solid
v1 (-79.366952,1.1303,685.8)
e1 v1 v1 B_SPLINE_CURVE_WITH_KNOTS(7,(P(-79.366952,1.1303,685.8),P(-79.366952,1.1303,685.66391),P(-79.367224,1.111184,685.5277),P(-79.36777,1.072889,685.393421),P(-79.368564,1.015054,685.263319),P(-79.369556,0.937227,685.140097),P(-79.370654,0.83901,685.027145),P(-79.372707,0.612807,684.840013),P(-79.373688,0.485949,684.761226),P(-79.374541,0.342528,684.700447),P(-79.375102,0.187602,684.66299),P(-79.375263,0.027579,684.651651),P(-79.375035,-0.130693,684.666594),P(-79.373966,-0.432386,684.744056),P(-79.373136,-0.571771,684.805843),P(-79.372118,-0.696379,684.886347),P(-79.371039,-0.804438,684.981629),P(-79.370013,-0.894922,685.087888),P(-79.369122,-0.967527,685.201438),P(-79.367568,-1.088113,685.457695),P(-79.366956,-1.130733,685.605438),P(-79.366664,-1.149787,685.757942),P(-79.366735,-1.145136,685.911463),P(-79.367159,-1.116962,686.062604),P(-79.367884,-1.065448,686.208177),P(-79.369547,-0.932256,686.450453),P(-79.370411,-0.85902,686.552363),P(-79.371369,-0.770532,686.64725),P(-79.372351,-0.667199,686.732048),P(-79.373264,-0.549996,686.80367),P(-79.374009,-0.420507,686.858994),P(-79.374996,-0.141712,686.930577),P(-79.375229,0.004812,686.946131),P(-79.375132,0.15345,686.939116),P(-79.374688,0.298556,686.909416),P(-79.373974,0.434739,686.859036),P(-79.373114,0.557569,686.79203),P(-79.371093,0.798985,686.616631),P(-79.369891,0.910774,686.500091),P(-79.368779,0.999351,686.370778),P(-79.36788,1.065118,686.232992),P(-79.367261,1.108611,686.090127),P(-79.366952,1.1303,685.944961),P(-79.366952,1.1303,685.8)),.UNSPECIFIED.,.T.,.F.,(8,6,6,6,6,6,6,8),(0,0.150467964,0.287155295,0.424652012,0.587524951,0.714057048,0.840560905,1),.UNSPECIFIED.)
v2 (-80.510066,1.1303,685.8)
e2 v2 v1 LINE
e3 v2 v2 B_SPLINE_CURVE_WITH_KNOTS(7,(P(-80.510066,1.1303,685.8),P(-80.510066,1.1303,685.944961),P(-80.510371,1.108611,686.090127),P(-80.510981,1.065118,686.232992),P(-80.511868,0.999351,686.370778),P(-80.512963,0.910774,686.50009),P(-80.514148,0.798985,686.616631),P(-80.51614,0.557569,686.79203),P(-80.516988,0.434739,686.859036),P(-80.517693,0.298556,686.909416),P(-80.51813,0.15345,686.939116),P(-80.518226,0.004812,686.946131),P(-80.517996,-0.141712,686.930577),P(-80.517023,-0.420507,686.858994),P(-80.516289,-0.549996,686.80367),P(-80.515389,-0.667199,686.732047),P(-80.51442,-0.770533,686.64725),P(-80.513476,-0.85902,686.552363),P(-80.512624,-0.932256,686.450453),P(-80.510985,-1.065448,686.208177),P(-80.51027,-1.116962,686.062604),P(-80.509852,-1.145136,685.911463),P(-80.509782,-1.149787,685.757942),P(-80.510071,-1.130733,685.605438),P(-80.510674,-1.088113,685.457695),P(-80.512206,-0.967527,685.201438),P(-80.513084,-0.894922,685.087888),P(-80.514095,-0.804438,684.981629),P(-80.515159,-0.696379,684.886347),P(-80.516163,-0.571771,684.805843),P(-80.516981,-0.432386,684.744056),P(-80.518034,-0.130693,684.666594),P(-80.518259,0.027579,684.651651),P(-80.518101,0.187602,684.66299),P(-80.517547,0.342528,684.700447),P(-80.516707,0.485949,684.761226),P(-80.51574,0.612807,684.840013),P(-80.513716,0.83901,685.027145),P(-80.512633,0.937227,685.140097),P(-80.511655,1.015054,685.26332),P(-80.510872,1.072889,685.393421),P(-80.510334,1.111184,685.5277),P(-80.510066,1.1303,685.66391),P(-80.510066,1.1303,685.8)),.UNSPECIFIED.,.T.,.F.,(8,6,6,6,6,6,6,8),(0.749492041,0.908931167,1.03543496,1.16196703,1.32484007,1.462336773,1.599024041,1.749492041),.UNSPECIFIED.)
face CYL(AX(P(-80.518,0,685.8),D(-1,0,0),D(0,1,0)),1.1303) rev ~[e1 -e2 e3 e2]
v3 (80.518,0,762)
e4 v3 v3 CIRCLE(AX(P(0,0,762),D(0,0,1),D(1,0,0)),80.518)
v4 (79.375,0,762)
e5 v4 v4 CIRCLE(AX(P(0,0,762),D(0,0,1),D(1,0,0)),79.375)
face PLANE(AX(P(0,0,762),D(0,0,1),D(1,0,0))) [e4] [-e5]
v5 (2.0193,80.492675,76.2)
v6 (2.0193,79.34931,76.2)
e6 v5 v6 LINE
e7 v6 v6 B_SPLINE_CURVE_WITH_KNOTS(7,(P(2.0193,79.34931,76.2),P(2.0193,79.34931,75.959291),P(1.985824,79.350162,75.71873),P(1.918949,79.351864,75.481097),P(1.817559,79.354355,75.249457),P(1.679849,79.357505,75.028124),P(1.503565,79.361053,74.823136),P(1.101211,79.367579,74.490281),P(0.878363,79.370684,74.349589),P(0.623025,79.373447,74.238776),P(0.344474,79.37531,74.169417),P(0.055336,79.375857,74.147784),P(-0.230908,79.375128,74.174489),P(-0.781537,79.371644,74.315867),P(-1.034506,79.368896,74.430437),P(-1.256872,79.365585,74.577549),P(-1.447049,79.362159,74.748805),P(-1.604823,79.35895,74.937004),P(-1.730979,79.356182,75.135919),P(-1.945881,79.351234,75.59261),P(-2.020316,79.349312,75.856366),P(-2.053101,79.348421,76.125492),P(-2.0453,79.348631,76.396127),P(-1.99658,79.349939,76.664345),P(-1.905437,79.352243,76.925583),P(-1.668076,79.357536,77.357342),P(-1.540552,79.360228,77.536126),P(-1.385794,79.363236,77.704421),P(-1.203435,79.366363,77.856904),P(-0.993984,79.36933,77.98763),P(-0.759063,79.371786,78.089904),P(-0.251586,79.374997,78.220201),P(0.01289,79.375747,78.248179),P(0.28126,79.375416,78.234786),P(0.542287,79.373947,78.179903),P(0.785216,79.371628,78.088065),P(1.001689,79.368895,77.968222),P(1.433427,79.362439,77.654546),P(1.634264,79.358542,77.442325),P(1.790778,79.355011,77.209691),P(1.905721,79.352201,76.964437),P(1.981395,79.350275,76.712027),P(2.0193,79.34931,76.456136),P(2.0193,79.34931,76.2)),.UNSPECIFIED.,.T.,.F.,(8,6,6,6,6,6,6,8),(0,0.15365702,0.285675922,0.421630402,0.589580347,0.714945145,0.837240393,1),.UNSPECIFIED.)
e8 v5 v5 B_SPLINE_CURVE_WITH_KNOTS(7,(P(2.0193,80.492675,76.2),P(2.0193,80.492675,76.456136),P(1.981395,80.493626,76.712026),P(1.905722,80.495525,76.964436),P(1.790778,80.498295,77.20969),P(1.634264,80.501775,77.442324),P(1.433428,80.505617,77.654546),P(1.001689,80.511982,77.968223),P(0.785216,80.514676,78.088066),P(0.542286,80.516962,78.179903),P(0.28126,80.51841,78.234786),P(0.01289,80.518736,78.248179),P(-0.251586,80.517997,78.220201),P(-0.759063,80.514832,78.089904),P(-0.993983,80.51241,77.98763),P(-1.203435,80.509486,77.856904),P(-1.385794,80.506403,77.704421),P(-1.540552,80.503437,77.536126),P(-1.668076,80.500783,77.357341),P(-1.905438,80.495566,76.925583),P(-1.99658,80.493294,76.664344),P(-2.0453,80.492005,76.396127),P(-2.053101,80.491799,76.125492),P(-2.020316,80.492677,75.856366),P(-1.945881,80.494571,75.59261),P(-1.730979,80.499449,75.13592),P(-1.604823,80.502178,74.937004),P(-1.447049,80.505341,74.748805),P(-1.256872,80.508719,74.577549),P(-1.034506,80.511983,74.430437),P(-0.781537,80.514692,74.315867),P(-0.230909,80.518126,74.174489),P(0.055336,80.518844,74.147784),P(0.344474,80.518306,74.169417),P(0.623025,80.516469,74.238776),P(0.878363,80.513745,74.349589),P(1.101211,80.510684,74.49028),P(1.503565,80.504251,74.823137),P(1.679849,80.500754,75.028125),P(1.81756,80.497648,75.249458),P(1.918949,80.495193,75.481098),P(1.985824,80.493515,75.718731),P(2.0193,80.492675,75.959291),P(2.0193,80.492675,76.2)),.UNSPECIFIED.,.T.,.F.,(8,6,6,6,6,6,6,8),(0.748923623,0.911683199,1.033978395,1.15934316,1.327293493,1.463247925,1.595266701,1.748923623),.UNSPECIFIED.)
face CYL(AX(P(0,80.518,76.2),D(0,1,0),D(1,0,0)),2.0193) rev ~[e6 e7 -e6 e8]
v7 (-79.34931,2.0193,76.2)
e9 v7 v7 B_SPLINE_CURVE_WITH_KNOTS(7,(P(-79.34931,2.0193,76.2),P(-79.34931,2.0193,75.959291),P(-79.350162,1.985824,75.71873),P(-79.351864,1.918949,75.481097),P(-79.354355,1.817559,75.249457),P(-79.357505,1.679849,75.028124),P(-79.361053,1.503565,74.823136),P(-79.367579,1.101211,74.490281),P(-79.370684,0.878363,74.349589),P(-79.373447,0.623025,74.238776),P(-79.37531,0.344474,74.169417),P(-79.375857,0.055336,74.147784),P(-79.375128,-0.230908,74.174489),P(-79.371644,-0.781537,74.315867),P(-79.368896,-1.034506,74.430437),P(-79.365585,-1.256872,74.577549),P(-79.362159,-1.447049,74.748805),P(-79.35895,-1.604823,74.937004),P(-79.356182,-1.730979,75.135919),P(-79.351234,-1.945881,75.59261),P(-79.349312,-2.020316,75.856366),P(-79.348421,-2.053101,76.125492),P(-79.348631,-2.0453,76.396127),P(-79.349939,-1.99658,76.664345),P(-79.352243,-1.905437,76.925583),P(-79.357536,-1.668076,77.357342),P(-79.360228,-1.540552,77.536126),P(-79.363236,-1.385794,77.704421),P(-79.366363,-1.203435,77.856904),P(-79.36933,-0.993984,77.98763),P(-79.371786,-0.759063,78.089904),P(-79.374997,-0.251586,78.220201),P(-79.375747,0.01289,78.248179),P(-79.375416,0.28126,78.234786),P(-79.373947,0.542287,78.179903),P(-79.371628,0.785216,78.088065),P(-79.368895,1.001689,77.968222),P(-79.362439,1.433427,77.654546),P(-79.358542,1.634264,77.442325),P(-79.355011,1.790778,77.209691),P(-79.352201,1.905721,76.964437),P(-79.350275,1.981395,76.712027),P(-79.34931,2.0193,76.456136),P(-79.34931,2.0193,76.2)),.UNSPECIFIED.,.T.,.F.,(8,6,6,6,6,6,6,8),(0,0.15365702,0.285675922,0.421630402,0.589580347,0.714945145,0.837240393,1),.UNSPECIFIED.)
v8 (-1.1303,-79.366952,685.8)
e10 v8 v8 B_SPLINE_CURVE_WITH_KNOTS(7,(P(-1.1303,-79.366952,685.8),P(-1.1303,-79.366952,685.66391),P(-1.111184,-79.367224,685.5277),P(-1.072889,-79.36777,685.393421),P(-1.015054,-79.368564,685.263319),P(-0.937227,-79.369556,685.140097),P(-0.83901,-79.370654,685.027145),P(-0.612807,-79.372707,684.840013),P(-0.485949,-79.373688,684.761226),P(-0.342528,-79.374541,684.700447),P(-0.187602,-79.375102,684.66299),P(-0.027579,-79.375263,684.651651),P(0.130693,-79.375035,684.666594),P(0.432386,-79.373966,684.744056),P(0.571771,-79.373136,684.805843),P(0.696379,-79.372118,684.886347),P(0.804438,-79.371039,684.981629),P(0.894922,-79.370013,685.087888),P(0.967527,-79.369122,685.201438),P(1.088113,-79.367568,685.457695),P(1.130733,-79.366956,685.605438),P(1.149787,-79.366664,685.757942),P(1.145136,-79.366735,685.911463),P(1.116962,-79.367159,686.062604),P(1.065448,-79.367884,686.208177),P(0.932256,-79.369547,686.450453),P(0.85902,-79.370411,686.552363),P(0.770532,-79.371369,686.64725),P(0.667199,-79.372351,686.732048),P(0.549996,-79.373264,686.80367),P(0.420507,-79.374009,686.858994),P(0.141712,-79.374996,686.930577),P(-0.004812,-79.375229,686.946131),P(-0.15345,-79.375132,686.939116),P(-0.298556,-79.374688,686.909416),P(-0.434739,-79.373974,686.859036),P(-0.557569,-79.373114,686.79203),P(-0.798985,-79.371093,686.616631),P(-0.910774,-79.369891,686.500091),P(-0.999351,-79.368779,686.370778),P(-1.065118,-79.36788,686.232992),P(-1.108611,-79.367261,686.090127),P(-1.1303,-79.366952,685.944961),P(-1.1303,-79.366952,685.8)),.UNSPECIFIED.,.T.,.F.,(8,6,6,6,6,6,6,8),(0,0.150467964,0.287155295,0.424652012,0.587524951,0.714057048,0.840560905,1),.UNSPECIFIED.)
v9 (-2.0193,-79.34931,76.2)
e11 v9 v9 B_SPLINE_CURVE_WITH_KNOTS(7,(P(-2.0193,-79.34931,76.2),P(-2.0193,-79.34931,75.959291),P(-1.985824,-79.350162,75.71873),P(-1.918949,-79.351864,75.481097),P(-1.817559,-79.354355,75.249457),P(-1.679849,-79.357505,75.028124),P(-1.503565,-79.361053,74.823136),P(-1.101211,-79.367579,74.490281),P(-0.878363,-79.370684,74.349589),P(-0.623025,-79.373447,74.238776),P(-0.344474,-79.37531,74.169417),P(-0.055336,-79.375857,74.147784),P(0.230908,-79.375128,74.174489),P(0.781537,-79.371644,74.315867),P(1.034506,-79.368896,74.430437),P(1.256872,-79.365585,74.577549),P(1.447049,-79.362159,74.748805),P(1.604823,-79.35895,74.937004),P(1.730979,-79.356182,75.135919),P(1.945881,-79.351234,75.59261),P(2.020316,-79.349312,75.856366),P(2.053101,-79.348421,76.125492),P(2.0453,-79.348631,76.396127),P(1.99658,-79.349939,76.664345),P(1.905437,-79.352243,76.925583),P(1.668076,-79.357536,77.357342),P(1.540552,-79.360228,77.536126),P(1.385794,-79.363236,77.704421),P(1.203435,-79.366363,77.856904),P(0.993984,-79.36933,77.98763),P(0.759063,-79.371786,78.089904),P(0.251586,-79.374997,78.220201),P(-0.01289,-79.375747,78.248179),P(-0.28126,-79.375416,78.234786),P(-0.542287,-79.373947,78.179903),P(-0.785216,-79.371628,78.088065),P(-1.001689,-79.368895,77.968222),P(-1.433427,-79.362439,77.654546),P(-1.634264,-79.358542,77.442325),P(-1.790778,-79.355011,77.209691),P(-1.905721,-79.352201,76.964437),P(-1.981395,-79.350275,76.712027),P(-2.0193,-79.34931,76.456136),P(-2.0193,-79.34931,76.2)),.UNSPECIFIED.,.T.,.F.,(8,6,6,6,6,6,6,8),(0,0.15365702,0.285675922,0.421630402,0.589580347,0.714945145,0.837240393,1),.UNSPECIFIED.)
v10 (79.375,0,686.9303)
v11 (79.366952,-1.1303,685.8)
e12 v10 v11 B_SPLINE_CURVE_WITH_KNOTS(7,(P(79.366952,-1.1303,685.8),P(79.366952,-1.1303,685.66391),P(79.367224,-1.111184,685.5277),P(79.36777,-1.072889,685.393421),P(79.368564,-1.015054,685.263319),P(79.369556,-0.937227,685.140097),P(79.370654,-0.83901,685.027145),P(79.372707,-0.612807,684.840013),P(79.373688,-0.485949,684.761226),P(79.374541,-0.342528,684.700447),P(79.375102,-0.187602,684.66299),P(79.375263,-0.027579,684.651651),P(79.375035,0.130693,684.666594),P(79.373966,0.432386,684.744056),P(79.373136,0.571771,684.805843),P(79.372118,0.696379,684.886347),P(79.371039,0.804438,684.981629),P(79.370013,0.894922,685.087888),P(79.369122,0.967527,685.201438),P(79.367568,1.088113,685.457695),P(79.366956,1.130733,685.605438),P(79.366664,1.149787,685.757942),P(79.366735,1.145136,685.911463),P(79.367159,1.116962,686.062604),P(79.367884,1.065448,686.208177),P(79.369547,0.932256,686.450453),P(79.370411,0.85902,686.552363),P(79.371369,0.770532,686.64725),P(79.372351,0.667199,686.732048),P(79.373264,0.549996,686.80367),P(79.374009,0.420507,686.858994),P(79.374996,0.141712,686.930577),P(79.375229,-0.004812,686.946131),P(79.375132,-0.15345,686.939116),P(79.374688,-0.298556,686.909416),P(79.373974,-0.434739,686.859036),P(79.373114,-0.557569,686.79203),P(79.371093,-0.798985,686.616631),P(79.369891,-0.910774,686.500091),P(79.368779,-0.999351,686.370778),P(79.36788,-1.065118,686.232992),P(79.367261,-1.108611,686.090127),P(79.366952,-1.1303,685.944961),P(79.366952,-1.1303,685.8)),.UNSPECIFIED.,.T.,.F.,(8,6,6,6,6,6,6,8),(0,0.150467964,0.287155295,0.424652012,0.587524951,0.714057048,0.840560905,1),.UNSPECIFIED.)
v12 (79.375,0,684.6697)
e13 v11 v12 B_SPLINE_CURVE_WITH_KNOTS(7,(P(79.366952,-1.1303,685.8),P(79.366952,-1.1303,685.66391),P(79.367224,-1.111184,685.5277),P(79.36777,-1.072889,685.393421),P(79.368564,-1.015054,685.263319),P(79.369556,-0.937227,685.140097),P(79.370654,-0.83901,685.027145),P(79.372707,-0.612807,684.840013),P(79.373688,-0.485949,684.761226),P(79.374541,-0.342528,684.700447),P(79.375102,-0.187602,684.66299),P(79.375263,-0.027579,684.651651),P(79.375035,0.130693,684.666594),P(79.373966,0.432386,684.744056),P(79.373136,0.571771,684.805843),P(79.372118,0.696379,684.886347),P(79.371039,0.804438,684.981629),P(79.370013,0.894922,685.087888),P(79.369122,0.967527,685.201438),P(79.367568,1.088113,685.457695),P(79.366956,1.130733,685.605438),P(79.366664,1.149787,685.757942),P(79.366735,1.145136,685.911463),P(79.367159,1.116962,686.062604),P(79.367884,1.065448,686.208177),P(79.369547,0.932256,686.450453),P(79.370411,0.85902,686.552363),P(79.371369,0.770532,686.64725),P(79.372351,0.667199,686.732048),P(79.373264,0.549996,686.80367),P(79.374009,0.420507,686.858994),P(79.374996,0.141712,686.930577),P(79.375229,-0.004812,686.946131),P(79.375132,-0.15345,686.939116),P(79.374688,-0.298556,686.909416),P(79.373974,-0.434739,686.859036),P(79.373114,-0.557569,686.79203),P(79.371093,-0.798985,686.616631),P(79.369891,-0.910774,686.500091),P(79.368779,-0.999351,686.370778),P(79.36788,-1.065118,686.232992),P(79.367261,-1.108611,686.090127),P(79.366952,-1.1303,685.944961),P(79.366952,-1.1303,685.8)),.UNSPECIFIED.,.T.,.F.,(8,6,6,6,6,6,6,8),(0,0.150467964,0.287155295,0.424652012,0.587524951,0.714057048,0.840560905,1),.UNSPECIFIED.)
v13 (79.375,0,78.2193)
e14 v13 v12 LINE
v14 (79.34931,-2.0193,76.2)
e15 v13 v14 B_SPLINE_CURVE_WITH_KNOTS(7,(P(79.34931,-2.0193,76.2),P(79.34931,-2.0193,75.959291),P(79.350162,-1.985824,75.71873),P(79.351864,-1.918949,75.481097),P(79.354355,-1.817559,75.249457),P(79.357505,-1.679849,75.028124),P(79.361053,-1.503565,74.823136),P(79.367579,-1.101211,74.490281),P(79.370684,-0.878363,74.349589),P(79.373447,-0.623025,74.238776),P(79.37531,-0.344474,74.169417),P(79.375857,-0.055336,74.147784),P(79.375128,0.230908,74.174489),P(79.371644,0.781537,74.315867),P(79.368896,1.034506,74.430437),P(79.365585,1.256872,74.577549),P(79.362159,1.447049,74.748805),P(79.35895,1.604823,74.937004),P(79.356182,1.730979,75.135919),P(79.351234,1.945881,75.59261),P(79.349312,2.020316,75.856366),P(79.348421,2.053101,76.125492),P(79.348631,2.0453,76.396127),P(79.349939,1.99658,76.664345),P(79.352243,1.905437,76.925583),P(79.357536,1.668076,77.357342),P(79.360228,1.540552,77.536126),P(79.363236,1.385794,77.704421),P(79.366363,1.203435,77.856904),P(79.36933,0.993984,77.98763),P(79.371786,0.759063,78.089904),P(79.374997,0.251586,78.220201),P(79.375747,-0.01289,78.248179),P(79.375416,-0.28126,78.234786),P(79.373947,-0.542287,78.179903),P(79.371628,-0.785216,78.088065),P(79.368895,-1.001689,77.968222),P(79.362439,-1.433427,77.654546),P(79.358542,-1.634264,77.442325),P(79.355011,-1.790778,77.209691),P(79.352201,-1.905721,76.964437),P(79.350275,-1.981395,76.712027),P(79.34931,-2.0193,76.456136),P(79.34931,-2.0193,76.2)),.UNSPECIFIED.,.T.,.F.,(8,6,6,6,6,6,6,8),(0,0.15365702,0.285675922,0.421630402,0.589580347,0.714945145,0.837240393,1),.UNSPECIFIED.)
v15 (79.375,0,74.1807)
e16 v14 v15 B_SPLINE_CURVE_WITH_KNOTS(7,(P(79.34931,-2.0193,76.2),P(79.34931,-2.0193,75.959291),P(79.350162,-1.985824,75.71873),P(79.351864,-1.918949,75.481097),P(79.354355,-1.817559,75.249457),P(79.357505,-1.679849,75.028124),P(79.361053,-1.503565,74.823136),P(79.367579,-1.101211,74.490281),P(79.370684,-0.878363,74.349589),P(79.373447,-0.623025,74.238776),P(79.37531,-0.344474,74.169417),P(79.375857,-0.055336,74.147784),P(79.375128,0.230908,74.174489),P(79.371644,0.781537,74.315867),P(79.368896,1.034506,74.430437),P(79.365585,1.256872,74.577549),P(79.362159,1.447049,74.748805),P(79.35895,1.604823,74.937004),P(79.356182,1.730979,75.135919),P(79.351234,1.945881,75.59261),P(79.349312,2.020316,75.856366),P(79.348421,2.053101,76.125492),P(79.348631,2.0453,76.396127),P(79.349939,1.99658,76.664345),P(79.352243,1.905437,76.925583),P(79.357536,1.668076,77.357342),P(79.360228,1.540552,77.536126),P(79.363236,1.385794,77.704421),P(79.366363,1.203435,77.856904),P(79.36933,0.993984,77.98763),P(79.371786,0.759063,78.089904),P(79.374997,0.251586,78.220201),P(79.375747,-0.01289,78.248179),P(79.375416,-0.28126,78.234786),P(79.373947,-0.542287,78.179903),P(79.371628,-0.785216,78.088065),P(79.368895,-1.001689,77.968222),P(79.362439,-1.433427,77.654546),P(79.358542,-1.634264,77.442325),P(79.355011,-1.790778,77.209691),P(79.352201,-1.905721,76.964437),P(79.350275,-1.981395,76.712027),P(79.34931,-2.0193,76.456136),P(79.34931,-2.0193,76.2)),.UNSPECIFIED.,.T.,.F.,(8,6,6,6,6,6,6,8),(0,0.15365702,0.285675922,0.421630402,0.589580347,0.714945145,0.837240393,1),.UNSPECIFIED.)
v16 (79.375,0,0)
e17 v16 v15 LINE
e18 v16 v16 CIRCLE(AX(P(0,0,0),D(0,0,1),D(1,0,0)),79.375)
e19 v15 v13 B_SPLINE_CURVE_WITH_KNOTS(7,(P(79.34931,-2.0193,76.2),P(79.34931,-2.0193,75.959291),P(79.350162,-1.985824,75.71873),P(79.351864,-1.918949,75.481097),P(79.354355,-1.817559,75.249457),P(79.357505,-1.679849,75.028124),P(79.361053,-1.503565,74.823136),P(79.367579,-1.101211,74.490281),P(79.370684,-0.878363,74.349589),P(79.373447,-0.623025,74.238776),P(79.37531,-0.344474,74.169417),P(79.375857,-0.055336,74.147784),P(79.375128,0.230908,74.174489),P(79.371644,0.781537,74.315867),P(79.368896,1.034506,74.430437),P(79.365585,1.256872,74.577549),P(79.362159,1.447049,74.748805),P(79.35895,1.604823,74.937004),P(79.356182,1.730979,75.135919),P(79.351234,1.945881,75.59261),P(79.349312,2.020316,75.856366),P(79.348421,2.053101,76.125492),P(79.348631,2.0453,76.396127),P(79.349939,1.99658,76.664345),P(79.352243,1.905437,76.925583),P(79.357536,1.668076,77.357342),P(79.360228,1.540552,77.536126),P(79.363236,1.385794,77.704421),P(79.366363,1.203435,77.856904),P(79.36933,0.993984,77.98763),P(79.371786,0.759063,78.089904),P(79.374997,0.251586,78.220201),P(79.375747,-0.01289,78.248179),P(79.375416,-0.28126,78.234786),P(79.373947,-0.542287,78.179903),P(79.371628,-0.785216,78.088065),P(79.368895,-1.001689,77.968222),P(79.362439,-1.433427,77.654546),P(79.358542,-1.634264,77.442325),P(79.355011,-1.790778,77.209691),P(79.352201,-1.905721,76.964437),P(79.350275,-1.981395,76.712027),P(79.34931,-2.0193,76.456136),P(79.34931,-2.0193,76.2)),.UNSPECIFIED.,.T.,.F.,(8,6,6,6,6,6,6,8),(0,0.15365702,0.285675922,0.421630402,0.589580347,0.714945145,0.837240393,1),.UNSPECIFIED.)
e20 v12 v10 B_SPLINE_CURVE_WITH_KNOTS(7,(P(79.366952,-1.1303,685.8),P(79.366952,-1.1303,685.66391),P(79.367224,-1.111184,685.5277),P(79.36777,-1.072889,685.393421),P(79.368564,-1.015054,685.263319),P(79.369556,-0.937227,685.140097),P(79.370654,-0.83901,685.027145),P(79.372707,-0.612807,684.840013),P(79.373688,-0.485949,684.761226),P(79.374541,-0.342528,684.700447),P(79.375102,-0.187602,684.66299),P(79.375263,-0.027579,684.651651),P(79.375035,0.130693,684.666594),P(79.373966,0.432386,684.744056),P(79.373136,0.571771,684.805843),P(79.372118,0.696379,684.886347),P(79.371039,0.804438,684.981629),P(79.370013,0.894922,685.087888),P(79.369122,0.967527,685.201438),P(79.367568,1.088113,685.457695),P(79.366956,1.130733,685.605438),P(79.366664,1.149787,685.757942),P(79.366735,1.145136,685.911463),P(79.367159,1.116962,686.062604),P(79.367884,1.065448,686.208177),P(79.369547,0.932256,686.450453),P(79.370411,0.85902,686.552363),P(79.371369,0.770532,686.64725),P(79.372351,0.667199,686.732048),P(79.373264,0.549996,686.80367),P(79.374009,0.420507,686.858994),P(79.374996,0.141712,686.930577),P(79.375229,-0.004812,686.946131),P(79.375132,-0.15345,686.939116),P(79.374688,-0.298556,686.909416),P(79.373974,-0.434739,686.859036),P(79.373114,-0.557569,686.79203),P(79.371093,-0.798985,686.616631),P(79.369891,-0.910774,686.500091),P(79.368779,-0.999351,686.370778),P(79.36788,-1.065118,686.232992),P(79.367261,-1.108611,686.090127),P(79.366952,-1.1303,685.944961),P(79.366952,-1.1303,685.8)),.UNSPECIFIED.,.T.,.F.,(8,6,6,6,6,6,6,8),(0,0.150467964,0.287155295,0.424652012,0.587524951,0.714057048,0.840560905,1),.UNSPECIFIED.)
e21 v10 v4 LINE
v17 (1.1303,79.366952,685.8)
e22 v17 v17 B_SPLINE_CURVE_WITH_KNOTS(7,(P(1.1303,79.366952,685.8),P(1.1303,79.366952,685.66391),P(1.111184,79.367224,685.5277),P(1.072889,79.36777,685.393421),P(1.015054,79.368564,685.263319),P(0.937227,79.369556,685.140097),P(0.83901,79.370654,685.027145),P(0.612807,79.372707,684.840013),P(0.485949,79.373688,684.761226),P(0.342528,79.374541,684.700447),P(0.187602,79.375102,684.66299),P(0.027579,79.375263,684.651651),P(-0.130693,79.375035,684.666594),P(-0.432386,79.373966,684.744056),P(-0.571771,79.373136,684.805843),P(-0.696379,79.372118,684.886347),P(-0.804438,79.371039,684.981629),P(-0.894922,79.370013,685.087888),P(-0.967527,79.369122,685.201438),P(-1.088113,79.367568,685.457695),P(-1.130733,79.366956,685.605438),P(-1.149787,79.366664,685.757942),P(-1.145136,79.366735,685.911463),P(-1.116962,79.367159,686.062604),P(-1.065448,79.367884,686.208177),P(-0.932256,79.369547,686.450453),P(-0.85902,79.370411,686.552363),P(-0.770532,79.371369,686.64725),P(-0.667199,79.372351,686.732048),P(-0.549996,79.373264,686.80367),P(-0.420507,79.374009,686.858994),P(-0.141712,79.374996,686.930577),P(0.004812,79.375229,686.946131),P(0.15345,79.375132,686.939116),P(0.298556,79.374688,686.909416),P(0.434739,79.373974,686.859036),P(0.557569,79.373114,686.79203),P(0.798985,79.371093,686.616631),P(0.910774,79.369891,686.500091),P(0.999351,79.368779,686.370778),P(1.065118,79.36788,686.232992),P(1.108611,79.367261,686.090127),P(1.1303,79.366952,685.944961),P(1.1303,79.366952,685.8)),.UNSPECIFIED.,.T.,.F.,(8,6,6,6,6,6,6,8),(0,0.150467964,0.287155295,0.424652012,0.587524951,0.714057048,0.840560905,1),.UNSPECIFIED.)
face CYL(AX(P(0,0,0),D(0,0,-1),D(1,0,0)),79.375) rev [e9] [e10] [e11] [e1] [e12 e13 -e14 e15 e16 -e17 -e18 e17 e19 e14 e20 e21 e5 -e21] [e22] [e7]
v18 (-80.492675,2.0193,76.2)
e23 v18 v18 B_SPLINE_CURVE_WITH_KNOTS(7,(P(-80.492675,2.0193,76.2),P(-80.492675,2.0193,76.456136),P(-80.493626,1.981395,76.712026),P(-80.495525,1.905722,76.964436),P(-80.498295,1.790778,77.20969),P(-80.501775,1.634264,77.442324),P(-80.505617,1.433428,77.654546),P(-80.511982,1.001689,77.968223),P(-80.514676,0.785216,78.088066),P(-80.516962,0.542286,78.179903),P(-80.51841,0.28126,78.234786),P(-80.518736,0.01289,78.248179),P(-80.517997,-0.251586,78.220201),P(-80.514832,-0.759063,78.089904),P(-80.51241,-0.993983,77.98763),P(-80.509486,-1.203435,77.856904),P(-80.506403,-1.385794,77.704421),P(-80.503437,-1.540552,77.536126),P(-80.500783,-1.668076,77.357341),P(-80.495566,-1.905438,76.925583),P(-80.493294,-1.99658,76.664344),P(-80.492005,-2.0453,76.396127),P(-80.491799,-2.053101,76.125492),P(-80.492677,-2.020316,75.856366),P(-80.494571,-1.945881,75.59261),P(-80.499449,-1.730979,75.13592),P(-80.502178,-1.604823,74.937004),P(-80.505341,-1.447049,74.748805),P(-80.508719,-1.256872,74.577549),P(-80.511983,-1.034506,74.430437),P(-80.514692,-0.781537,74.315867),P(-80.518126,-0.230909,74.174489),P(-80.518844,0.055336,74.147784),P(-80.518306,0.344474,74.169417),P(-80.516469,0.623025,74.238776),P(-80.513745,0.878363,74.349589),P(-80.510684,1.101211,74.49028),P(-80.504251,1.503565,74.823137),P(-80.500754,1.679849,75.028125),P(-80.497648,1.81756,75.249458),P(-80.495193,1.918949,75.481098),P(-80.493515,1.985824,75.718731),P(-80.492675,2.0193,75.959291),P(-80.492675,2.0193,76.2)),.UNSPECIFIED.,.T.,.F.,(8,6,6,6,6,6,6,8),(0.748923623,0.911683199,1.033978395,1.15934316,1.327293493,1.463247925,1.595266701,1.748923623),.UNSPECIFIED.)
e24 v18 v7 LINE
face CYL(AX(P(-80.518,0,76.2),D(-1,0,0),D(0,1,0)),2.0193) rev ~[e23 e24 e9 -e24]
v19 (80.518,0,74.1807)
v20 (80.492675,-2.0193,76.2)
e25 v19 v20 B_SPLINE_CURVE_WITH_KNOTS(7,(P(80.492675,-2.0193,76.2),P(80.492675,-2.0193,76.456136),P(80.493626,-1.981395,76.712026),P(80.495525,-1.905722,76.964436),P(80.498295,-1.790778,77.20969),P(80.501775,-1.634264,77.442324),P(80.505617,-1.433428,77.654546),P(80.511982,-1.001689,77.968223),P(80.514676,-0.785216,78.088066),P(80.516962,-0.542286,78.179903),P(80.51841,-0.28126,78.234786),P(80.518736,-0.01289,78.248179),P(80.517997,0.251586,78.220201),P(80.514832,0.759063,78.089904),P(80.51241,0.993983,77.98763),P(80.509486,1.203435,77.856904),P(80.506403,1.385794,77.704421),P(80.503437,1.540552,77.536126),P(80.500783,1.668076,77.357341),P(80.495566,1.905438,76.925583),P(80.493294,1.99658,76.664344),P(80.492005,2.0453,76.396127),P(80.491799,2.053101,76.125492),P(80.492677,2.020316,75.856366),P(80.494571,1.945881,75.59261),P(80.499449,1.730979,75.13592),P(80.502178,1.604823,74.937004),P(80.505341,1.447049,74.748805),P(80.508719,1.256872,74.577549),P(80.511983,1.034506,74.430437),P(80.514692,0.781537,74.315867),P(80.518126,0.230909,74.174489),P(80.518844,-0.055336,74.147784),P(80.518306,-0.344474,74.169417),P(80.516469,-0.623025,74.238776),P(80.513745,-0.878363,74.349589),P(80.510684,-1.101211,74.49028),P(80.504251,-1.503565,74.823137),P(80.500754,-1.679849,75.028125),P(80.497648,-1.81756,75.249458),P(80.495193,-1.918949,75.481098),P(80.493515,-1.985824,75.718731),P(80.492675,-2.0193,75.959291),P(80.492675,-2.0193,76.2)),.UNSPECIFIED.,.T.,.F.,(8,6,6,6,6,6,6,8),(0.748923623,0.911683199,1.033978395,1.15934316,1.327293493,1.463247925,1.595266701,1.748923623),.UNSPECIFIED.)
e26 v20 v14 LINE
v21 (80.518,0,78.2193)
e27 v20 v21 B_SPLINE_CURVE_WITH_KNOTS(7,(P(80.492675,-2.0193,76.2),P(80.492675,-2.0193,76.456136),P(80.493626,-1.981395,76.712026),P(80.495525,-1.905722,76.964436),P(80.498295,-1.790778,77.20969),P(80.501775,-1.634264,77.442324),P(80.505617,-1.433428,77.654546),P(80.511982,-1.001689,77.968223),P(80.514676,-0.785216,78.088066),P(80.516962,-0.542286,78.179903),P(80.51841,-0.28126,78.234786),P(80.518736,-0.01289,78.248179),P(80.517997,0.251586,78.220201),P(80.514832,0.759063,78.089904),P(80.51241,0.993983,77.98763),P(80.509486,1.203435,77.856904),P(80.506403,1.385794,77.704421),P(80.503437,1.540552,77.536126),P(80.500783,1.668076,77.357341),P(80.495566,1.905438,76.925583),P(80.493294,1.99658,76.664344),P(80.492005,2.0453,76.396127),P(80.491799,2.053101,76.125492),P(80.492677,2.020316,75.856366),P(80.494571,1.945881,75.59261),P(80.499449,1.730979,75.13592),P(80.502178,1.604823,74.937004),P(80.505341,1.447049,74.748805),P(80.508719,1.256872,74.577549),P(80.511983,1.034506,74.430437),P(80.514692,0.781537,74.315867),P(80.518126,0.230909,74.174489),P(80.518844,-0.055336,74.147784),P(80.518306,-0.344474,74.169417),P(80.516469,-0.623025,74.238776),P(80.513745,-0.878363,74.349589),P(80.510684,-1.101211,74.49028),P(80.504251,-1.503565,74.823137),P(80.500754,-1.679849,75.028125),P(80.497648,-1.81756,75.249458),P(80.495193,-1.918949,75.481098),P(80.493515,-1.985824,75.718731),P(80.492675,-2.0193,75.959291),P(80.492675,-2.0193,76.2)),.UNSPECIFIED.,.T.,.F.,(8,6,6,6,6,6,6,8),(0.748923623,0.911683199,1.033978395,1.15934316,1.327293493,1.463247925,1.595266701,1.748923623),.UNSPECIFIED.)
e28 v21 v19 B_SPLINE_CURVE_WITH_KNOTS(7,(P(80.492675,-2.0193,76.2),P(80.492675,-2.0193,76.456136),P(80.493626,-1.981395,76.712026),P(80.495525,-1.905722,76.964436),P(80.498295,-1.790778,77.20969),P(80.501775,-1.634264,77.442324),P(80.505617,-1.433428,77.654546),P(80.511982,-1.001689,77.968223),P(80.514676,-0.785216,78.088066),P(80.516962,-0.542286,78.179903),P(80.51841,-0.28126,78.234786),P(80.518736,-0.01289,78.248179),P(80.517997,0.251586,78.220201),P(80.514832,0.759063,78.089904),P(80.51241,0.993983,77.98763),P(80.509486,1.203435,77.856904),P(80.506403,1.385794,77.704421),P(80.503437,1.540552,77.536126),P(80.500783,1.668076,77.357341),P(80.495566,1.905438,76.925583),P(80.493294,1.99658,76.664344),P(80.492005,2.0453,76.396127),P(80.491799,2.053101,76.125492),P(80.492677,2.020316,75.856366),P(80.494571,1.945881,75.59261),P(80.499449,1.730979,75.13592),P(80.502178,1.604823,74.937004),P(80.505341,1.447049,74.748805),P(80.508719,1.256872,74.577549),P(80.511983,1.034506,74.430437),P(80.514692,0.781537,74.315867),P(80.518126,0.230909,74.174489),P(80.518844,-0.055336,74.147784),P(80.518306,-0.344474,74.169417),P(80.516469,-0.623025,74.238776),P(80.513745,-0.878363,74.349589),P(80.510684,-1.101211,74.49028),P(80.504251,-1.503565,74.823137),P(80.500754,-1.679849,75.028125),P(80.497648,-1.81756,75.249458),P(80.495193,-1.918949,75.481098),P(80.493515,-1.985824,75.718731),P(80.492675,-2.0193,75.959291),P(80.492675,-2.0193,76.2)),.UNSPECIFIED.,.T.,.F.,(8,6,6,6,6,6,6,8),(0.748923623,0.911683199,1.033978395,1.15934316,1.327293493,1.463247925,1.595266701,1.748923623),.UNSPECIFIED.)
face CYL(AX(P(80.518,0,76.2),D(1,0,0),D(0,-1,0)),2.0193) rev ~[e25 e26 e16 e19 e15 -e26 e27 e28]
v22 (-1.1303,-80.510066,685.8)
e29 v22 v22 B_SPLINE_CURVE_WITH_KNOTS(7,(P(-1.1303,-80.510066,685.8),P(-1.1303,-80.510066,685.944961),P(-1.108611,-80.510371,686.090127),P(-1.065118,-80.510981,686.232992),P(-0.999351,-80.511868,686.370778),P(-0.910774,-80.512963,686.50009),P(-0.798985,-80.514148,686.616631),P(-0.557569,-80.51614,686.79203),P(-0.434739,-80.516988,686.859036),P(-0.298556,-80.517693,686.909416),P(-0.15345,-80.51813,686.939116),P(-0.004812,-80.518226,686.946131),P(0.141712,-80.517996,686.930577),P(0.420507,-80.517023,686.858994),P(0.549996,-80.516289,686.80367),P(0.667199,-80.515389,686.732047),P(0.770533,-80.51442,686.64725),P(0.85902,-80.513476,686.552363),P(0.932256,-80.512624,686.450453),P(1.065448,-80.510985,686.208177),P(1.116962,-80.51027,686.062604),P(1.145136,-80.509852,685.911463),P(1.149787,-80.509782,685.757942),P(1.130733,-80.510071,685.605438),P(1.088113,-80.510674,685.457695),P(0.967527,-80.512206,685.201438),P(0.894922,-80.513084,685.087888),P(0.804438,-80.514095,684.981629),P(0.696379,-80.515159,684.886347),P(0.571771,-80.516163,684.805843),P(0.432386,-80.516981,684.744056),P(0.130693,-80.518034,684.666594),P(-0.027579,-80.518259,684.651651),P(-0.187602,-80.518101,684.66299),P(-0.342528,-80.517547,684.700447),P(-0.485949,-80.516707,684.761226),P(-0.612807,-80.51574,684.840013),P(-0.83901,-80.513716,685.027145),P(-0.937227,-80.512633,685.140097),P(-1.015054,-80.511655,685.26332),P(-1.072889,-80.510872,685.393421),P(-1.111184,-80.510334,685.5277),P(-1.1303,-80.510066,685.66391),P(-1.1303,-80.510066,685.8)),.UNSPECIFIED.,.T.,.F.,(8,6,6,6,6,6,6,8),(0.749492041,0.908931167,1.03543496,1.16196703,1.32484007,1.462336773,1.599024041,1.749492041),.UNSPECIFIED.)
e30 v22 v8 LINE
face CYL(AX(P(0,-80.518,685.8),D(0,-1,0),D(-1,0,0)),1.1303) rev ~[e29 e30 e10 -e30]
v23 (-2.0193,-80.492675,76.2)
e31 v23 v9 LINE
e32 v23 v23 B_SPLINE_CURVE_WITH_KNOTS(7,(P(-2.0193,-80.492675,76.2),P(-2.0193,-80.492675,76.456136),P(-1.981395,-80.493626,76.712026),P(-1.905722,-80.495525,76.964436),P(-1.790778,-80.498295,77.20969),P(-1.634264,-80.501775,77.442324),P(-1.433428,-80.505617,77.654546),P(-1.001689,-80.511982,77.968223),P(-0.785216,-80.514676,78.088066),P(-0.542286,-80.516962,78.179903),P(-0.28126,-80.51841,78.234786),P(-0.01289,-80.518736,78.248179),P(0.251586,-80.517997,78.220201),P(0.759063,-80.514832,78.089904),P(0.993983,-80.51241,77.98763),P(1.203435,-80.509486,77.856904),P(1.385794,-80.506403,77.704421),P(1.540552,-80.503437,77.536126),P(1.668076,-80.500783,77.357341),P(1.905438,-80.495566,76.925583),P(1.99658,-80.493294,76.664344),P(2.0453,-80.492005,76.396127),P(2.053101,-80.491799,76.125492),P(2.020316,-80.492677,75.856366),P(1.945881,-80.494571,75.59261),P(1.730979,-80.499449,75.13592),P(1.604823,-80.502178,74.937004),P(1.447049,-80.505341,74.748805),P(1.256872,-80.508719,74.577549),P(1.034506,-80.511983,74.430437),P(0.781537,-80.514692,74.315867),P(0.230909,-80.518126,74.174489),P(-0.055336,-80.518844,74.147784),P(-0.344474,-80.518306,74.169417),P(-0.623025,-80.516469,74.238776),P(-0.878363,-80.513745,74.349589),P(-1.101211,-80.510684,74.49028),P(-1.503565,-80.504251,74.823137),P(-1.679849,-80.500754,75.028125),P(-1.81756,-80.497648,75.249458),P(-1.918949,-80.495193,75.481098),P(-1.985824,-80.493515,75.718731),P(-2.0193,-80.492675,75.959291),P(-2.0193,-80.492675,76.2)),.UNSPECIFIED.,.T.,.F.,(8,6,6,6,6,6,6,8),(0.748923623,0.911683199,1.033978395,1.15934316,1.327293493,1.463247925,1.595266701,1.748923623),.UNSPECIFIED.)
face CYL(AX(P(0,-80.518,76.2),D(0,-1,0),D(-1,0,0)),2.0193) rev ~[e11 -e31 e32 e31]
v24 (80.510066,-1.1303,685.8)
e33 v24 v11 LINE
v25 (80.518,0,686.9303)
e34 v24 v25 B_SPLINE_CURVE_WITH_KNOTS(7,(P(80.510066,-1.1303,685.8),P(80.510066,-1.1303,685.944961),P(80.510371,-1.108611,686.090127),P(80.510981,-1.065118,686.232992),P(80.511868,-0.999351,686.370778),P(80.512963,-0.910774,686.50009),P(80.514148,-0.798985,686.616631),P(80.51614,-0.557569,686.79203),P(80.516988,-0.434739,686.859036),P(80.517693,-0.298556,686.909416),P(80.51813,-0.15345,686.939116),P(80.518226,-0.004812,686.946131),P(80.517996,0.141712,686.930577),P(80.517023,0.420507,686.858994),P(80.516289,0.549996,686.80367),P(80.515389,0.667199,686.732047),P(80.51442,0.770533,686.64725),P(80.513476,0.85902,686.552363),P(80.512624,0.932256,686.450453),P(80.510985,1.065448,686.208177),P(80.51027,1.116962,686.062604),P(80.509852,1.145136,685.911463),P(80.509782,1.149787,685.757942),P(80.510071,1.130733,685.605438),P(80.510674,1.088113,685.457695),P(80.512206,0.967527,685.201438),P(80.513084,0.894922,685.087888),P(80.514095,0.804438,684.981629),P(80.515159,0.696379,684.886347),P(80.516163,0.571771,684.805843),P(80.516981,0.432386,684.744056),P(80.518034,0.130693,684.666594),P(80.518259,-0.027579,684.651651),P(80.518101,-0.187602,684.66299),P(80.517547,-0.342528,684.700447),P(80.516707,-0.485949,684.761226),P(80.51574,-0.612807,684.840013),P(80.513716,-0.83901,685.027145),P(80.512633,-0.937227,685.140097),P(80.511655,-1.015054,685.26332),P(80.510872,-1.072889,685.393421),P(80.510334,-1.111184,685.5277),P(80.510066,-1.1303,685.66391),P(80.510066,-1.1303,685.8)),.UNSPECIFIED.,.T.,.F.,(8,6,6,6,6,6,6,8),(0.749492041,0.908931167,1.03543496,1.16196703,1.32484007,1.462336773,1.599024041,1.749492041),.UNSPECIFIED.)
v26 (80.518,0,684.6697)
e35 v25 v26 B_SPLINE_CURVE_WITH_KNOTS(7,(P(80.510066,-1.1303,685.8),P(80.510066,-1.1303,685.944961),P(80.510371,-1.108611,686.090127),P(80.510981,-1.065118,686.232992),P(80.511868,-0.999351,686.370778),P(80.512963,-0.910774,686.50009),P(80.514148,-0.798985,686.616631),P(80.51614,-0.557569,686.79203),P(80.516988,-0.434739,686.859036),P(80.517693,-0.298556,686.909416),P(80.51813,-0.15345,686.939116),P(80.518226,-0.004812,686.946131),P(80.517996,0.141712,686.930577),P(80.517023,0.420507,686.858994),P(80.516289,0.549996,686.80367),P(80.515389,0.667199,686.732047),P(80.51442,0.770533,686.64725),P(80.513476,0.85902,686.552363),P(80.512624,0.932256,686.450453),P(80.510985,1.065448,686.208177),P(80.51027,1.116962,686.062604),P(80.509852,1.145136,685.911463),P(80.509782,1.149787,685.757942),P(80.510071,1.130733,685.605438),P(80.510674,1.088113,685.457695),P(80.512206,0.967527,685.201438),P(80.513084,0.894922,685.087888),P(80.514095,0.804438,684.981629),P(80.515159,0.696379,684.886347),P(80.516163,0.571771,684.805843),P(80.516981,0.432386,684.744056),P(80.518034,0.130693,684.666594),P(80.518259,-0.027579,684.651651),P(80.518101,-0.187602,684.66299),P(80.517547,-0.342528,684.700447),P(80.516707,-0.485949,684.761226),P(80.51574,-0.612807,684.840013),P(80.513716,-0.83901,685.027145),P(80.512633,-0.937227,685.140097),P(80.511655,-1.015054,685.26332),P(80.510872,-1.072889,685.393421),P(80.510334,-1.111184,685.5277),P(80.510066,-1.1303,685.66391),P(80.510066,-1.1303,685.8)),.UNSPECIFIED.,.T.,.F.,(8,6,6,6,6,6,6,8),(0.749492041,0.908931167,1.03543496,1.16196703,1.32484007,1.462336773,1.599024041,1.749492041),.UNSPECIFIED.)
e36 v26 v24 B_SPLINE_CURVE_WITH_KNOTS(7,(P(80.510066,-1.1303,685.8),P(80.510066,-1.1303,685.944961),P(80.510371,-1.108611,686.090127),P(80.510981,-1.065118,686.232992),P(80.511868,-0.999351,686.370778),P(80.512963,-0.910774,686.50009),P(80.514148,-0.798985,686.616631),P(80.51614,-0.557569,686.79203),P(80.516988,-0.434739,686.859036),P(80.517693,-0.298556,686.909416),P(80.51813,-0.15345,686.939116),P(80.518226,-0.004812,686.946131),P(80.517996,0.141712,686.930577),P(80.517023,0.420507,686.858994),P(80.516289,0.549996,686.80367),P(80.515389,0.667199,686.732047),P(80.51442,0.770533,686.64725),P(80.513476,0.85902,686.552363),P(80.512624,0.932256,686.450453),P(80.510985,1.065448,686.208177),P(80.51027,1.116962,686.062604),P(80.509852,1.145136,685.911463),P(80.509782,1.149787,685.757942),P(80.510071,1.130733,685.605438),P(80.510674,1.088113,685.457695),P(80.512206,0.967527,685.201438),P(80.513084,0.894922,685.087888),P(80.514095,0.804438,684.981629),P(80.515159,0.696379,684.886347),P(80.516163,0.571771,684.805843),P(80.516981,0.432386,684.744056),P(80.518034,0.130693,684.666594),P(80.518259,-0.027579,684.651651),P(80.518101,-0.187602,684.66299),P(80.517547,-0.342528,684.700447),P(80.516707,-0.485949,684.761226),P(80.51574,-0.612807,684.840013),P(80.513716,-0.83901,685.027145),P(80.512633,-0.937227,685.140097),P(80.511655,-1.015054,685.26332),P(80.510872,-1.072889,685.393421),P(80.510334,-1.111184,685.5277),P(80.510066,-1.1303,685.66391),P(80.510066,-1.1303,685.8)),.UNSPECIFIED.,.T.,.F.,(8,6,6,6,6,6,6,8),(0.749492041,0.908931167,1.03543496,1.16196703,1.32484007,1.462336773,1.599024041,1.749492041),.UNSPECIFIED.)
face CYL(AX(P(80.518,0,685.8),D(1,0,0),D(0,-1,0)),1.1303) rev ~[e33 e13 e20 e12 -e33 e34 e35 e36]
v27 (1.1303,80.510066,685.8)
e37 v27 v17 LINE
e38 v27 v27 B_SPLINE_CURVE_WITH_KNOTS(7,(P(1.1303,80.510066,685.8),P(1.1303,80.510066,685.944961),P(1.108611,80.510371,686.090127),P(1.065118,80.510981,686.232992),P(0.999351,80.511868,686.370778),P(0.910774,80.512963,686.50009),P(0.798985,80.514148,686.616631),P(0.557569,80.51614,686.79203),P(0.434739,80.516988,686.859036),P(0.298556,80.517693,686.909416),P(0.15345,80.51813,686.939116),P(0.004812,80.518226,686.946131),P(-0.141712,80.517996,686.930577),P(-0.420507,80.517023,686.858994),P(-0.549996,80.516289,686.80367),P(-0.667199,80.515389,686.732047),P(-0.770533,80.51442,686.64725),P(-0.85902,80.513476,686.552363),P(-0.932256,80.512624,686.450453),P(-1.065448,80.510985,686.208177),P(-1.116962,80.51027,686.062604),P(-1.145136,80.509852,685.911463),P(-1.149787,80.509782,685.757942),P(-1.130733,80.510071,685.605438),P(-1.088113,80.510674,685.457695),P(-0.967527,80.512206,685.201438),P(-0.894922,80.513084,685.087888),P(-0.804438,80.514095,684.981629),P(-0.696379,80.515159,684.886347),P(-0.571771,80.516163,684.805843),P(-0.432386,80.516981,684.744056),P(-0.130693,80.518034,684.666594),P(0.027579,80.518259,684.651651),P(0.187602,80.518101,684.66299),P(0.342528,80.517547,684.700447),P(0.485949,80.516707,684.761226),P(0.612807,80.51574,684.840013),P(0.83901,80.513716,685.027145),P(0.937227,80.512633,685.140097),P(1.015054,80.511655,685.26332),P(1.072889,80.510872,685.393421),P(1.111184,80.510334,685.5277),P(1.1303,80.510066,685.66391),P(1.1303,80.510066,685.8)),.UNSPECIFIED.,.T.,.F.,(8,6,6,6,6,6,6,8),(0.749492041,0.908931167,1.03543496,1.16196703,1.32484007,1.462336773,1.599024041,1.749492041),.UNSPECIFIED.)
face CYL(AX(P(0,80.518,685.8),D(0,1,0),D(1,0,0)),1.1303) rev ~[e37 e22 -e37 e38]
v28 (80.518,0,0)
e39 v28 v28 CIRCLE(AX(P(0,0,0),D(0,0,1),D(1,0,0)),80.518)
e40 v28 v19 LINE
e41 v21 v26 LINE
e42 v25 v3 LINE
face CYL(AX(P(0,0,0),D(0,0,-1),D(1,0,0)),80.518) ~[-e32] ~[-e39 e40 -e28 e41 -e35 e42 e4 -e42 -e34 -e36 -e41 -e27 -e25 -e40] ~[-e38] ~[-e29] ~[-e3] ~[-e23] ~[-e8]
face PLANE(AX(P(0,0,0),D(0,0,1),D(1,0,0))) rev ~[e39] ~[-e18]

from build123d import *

# Parameters (mm, degrees)
SKETCH1_R                       = 80.518
SKETCH1_R_2                     = 79.375
BOSS_EXTRUDE1_DEPTH             = 762
TAP_DRILL_FOR_10_32_TAP1_REACH  = 784.981
TAP_DRILL_FOR_10_32_TAP1_BORE_R = 2.0193
TAP_DRILL_FOR_4_40_TAP1_REACH   = 784.981
TAP_DRILL_FOR_4_40_TAP1_BORE_R  = 1.1303
CIRPATTERN1_COUNT               = 4


with BuildPart() as part:
    # Sketch1 → Boss-Extrude1 (new body)
    with BuildSketch(Plane.XY):
        Circle(SKETCH1_R)
        Circle(SKETCH1_R_2, mode=Mode.SUBTRACT)
    extrude(amount=BOSS_EXTRUDE1_DEPTH)

    # Tap Drill for #10-32 Tap1 bore → Tap Drill for #10-32 Tap1 (cut, up to next)
    with BuildSketch(Plane(origin=(0, 80.518, 0), x_dir=(1, 0, 0), z_dir=(0, 1, 0)), mode=Mode.PRIVATE) as tap_drill_for_10_32_tap1_sk1:
        with Locations((0, -76.2)):
            Circle(TAP_DRILL_FOR_10_32_TAP1_BORE_R)
    tap_drill_for_10_32_tap1_tool1 = extrude(tap_drill_for_10_32_tap1_sk1.sketch, amount=-TAP_DRILL_FOR_10_32_TAP1_REACH, mode=Mode.PRIVATE) & part.part
    tap_drill_for_10_32_tap1 = tap_drill_for_10_32_tap1_tool1.solids().sort_by_distance((0, 80.518, 76.2))[0]
    add(tap_drill_for_10_32_tap1, mode=Mode.SUBTRACT)

    # Tap Drill for #4-40 Tap1 bore → Tap Drill for #4-40 Tap1 (cut, up to next)
    with BuildSketch(Plane(origin=(0, 80.518, 0), x_dir=(1, 0, 0), z_dir=(0, 1, 0)), mode=Mode.PRIVATE) as tap_drill_for_4_40_tap1_sk1:
        with Locations((0, -685.8)):
            Circle(TAP_DRILL_FOR_4_40_TAP1_BORE_R)
    tap_drill_for_4_40_tap1_tool1 = extrude(tap_drill_for_4_40_tap1_sk1.sketch, amount=-TAP_DRILL_FOR_4_40_TAP1_REACH, mode=Mode.PRIVATE) & part.part
    tap_drill_for_4_40_tap1 = tap_drill_for_4_40_tap1_tool1.solids().sort_by_distance((0, 80.518, 685.8))[0]
    add(tap_drill_for_4_40_tap1, mode=Mode.SUBTRACT)

    # CirPattern1: Tap Drill for #10-32 Tap1, Tap Drill for #4-40 Tap1 ×4 about axis
    cirpattern1_axis = Axis((0, 0, 762), (0, 0, 1))
    add([tap_drill_for_10_32_tap1.rotate(cirpattern1_axis, i * 360 / CIRPATTERN1_COUNT) for i in range(1, CIRPATTERN1_COUNT)], mode=Mode.SUBTRACT)
    add([tap_drill_for_4_40_tap1.rotate(cirpattern1_axis, i * 360 / CIRPATTERN1_COUNT) for i in range(1, CIRPATTERN1_COUNT)], mode=Mode.SUBTRACT)


solid = part.part
